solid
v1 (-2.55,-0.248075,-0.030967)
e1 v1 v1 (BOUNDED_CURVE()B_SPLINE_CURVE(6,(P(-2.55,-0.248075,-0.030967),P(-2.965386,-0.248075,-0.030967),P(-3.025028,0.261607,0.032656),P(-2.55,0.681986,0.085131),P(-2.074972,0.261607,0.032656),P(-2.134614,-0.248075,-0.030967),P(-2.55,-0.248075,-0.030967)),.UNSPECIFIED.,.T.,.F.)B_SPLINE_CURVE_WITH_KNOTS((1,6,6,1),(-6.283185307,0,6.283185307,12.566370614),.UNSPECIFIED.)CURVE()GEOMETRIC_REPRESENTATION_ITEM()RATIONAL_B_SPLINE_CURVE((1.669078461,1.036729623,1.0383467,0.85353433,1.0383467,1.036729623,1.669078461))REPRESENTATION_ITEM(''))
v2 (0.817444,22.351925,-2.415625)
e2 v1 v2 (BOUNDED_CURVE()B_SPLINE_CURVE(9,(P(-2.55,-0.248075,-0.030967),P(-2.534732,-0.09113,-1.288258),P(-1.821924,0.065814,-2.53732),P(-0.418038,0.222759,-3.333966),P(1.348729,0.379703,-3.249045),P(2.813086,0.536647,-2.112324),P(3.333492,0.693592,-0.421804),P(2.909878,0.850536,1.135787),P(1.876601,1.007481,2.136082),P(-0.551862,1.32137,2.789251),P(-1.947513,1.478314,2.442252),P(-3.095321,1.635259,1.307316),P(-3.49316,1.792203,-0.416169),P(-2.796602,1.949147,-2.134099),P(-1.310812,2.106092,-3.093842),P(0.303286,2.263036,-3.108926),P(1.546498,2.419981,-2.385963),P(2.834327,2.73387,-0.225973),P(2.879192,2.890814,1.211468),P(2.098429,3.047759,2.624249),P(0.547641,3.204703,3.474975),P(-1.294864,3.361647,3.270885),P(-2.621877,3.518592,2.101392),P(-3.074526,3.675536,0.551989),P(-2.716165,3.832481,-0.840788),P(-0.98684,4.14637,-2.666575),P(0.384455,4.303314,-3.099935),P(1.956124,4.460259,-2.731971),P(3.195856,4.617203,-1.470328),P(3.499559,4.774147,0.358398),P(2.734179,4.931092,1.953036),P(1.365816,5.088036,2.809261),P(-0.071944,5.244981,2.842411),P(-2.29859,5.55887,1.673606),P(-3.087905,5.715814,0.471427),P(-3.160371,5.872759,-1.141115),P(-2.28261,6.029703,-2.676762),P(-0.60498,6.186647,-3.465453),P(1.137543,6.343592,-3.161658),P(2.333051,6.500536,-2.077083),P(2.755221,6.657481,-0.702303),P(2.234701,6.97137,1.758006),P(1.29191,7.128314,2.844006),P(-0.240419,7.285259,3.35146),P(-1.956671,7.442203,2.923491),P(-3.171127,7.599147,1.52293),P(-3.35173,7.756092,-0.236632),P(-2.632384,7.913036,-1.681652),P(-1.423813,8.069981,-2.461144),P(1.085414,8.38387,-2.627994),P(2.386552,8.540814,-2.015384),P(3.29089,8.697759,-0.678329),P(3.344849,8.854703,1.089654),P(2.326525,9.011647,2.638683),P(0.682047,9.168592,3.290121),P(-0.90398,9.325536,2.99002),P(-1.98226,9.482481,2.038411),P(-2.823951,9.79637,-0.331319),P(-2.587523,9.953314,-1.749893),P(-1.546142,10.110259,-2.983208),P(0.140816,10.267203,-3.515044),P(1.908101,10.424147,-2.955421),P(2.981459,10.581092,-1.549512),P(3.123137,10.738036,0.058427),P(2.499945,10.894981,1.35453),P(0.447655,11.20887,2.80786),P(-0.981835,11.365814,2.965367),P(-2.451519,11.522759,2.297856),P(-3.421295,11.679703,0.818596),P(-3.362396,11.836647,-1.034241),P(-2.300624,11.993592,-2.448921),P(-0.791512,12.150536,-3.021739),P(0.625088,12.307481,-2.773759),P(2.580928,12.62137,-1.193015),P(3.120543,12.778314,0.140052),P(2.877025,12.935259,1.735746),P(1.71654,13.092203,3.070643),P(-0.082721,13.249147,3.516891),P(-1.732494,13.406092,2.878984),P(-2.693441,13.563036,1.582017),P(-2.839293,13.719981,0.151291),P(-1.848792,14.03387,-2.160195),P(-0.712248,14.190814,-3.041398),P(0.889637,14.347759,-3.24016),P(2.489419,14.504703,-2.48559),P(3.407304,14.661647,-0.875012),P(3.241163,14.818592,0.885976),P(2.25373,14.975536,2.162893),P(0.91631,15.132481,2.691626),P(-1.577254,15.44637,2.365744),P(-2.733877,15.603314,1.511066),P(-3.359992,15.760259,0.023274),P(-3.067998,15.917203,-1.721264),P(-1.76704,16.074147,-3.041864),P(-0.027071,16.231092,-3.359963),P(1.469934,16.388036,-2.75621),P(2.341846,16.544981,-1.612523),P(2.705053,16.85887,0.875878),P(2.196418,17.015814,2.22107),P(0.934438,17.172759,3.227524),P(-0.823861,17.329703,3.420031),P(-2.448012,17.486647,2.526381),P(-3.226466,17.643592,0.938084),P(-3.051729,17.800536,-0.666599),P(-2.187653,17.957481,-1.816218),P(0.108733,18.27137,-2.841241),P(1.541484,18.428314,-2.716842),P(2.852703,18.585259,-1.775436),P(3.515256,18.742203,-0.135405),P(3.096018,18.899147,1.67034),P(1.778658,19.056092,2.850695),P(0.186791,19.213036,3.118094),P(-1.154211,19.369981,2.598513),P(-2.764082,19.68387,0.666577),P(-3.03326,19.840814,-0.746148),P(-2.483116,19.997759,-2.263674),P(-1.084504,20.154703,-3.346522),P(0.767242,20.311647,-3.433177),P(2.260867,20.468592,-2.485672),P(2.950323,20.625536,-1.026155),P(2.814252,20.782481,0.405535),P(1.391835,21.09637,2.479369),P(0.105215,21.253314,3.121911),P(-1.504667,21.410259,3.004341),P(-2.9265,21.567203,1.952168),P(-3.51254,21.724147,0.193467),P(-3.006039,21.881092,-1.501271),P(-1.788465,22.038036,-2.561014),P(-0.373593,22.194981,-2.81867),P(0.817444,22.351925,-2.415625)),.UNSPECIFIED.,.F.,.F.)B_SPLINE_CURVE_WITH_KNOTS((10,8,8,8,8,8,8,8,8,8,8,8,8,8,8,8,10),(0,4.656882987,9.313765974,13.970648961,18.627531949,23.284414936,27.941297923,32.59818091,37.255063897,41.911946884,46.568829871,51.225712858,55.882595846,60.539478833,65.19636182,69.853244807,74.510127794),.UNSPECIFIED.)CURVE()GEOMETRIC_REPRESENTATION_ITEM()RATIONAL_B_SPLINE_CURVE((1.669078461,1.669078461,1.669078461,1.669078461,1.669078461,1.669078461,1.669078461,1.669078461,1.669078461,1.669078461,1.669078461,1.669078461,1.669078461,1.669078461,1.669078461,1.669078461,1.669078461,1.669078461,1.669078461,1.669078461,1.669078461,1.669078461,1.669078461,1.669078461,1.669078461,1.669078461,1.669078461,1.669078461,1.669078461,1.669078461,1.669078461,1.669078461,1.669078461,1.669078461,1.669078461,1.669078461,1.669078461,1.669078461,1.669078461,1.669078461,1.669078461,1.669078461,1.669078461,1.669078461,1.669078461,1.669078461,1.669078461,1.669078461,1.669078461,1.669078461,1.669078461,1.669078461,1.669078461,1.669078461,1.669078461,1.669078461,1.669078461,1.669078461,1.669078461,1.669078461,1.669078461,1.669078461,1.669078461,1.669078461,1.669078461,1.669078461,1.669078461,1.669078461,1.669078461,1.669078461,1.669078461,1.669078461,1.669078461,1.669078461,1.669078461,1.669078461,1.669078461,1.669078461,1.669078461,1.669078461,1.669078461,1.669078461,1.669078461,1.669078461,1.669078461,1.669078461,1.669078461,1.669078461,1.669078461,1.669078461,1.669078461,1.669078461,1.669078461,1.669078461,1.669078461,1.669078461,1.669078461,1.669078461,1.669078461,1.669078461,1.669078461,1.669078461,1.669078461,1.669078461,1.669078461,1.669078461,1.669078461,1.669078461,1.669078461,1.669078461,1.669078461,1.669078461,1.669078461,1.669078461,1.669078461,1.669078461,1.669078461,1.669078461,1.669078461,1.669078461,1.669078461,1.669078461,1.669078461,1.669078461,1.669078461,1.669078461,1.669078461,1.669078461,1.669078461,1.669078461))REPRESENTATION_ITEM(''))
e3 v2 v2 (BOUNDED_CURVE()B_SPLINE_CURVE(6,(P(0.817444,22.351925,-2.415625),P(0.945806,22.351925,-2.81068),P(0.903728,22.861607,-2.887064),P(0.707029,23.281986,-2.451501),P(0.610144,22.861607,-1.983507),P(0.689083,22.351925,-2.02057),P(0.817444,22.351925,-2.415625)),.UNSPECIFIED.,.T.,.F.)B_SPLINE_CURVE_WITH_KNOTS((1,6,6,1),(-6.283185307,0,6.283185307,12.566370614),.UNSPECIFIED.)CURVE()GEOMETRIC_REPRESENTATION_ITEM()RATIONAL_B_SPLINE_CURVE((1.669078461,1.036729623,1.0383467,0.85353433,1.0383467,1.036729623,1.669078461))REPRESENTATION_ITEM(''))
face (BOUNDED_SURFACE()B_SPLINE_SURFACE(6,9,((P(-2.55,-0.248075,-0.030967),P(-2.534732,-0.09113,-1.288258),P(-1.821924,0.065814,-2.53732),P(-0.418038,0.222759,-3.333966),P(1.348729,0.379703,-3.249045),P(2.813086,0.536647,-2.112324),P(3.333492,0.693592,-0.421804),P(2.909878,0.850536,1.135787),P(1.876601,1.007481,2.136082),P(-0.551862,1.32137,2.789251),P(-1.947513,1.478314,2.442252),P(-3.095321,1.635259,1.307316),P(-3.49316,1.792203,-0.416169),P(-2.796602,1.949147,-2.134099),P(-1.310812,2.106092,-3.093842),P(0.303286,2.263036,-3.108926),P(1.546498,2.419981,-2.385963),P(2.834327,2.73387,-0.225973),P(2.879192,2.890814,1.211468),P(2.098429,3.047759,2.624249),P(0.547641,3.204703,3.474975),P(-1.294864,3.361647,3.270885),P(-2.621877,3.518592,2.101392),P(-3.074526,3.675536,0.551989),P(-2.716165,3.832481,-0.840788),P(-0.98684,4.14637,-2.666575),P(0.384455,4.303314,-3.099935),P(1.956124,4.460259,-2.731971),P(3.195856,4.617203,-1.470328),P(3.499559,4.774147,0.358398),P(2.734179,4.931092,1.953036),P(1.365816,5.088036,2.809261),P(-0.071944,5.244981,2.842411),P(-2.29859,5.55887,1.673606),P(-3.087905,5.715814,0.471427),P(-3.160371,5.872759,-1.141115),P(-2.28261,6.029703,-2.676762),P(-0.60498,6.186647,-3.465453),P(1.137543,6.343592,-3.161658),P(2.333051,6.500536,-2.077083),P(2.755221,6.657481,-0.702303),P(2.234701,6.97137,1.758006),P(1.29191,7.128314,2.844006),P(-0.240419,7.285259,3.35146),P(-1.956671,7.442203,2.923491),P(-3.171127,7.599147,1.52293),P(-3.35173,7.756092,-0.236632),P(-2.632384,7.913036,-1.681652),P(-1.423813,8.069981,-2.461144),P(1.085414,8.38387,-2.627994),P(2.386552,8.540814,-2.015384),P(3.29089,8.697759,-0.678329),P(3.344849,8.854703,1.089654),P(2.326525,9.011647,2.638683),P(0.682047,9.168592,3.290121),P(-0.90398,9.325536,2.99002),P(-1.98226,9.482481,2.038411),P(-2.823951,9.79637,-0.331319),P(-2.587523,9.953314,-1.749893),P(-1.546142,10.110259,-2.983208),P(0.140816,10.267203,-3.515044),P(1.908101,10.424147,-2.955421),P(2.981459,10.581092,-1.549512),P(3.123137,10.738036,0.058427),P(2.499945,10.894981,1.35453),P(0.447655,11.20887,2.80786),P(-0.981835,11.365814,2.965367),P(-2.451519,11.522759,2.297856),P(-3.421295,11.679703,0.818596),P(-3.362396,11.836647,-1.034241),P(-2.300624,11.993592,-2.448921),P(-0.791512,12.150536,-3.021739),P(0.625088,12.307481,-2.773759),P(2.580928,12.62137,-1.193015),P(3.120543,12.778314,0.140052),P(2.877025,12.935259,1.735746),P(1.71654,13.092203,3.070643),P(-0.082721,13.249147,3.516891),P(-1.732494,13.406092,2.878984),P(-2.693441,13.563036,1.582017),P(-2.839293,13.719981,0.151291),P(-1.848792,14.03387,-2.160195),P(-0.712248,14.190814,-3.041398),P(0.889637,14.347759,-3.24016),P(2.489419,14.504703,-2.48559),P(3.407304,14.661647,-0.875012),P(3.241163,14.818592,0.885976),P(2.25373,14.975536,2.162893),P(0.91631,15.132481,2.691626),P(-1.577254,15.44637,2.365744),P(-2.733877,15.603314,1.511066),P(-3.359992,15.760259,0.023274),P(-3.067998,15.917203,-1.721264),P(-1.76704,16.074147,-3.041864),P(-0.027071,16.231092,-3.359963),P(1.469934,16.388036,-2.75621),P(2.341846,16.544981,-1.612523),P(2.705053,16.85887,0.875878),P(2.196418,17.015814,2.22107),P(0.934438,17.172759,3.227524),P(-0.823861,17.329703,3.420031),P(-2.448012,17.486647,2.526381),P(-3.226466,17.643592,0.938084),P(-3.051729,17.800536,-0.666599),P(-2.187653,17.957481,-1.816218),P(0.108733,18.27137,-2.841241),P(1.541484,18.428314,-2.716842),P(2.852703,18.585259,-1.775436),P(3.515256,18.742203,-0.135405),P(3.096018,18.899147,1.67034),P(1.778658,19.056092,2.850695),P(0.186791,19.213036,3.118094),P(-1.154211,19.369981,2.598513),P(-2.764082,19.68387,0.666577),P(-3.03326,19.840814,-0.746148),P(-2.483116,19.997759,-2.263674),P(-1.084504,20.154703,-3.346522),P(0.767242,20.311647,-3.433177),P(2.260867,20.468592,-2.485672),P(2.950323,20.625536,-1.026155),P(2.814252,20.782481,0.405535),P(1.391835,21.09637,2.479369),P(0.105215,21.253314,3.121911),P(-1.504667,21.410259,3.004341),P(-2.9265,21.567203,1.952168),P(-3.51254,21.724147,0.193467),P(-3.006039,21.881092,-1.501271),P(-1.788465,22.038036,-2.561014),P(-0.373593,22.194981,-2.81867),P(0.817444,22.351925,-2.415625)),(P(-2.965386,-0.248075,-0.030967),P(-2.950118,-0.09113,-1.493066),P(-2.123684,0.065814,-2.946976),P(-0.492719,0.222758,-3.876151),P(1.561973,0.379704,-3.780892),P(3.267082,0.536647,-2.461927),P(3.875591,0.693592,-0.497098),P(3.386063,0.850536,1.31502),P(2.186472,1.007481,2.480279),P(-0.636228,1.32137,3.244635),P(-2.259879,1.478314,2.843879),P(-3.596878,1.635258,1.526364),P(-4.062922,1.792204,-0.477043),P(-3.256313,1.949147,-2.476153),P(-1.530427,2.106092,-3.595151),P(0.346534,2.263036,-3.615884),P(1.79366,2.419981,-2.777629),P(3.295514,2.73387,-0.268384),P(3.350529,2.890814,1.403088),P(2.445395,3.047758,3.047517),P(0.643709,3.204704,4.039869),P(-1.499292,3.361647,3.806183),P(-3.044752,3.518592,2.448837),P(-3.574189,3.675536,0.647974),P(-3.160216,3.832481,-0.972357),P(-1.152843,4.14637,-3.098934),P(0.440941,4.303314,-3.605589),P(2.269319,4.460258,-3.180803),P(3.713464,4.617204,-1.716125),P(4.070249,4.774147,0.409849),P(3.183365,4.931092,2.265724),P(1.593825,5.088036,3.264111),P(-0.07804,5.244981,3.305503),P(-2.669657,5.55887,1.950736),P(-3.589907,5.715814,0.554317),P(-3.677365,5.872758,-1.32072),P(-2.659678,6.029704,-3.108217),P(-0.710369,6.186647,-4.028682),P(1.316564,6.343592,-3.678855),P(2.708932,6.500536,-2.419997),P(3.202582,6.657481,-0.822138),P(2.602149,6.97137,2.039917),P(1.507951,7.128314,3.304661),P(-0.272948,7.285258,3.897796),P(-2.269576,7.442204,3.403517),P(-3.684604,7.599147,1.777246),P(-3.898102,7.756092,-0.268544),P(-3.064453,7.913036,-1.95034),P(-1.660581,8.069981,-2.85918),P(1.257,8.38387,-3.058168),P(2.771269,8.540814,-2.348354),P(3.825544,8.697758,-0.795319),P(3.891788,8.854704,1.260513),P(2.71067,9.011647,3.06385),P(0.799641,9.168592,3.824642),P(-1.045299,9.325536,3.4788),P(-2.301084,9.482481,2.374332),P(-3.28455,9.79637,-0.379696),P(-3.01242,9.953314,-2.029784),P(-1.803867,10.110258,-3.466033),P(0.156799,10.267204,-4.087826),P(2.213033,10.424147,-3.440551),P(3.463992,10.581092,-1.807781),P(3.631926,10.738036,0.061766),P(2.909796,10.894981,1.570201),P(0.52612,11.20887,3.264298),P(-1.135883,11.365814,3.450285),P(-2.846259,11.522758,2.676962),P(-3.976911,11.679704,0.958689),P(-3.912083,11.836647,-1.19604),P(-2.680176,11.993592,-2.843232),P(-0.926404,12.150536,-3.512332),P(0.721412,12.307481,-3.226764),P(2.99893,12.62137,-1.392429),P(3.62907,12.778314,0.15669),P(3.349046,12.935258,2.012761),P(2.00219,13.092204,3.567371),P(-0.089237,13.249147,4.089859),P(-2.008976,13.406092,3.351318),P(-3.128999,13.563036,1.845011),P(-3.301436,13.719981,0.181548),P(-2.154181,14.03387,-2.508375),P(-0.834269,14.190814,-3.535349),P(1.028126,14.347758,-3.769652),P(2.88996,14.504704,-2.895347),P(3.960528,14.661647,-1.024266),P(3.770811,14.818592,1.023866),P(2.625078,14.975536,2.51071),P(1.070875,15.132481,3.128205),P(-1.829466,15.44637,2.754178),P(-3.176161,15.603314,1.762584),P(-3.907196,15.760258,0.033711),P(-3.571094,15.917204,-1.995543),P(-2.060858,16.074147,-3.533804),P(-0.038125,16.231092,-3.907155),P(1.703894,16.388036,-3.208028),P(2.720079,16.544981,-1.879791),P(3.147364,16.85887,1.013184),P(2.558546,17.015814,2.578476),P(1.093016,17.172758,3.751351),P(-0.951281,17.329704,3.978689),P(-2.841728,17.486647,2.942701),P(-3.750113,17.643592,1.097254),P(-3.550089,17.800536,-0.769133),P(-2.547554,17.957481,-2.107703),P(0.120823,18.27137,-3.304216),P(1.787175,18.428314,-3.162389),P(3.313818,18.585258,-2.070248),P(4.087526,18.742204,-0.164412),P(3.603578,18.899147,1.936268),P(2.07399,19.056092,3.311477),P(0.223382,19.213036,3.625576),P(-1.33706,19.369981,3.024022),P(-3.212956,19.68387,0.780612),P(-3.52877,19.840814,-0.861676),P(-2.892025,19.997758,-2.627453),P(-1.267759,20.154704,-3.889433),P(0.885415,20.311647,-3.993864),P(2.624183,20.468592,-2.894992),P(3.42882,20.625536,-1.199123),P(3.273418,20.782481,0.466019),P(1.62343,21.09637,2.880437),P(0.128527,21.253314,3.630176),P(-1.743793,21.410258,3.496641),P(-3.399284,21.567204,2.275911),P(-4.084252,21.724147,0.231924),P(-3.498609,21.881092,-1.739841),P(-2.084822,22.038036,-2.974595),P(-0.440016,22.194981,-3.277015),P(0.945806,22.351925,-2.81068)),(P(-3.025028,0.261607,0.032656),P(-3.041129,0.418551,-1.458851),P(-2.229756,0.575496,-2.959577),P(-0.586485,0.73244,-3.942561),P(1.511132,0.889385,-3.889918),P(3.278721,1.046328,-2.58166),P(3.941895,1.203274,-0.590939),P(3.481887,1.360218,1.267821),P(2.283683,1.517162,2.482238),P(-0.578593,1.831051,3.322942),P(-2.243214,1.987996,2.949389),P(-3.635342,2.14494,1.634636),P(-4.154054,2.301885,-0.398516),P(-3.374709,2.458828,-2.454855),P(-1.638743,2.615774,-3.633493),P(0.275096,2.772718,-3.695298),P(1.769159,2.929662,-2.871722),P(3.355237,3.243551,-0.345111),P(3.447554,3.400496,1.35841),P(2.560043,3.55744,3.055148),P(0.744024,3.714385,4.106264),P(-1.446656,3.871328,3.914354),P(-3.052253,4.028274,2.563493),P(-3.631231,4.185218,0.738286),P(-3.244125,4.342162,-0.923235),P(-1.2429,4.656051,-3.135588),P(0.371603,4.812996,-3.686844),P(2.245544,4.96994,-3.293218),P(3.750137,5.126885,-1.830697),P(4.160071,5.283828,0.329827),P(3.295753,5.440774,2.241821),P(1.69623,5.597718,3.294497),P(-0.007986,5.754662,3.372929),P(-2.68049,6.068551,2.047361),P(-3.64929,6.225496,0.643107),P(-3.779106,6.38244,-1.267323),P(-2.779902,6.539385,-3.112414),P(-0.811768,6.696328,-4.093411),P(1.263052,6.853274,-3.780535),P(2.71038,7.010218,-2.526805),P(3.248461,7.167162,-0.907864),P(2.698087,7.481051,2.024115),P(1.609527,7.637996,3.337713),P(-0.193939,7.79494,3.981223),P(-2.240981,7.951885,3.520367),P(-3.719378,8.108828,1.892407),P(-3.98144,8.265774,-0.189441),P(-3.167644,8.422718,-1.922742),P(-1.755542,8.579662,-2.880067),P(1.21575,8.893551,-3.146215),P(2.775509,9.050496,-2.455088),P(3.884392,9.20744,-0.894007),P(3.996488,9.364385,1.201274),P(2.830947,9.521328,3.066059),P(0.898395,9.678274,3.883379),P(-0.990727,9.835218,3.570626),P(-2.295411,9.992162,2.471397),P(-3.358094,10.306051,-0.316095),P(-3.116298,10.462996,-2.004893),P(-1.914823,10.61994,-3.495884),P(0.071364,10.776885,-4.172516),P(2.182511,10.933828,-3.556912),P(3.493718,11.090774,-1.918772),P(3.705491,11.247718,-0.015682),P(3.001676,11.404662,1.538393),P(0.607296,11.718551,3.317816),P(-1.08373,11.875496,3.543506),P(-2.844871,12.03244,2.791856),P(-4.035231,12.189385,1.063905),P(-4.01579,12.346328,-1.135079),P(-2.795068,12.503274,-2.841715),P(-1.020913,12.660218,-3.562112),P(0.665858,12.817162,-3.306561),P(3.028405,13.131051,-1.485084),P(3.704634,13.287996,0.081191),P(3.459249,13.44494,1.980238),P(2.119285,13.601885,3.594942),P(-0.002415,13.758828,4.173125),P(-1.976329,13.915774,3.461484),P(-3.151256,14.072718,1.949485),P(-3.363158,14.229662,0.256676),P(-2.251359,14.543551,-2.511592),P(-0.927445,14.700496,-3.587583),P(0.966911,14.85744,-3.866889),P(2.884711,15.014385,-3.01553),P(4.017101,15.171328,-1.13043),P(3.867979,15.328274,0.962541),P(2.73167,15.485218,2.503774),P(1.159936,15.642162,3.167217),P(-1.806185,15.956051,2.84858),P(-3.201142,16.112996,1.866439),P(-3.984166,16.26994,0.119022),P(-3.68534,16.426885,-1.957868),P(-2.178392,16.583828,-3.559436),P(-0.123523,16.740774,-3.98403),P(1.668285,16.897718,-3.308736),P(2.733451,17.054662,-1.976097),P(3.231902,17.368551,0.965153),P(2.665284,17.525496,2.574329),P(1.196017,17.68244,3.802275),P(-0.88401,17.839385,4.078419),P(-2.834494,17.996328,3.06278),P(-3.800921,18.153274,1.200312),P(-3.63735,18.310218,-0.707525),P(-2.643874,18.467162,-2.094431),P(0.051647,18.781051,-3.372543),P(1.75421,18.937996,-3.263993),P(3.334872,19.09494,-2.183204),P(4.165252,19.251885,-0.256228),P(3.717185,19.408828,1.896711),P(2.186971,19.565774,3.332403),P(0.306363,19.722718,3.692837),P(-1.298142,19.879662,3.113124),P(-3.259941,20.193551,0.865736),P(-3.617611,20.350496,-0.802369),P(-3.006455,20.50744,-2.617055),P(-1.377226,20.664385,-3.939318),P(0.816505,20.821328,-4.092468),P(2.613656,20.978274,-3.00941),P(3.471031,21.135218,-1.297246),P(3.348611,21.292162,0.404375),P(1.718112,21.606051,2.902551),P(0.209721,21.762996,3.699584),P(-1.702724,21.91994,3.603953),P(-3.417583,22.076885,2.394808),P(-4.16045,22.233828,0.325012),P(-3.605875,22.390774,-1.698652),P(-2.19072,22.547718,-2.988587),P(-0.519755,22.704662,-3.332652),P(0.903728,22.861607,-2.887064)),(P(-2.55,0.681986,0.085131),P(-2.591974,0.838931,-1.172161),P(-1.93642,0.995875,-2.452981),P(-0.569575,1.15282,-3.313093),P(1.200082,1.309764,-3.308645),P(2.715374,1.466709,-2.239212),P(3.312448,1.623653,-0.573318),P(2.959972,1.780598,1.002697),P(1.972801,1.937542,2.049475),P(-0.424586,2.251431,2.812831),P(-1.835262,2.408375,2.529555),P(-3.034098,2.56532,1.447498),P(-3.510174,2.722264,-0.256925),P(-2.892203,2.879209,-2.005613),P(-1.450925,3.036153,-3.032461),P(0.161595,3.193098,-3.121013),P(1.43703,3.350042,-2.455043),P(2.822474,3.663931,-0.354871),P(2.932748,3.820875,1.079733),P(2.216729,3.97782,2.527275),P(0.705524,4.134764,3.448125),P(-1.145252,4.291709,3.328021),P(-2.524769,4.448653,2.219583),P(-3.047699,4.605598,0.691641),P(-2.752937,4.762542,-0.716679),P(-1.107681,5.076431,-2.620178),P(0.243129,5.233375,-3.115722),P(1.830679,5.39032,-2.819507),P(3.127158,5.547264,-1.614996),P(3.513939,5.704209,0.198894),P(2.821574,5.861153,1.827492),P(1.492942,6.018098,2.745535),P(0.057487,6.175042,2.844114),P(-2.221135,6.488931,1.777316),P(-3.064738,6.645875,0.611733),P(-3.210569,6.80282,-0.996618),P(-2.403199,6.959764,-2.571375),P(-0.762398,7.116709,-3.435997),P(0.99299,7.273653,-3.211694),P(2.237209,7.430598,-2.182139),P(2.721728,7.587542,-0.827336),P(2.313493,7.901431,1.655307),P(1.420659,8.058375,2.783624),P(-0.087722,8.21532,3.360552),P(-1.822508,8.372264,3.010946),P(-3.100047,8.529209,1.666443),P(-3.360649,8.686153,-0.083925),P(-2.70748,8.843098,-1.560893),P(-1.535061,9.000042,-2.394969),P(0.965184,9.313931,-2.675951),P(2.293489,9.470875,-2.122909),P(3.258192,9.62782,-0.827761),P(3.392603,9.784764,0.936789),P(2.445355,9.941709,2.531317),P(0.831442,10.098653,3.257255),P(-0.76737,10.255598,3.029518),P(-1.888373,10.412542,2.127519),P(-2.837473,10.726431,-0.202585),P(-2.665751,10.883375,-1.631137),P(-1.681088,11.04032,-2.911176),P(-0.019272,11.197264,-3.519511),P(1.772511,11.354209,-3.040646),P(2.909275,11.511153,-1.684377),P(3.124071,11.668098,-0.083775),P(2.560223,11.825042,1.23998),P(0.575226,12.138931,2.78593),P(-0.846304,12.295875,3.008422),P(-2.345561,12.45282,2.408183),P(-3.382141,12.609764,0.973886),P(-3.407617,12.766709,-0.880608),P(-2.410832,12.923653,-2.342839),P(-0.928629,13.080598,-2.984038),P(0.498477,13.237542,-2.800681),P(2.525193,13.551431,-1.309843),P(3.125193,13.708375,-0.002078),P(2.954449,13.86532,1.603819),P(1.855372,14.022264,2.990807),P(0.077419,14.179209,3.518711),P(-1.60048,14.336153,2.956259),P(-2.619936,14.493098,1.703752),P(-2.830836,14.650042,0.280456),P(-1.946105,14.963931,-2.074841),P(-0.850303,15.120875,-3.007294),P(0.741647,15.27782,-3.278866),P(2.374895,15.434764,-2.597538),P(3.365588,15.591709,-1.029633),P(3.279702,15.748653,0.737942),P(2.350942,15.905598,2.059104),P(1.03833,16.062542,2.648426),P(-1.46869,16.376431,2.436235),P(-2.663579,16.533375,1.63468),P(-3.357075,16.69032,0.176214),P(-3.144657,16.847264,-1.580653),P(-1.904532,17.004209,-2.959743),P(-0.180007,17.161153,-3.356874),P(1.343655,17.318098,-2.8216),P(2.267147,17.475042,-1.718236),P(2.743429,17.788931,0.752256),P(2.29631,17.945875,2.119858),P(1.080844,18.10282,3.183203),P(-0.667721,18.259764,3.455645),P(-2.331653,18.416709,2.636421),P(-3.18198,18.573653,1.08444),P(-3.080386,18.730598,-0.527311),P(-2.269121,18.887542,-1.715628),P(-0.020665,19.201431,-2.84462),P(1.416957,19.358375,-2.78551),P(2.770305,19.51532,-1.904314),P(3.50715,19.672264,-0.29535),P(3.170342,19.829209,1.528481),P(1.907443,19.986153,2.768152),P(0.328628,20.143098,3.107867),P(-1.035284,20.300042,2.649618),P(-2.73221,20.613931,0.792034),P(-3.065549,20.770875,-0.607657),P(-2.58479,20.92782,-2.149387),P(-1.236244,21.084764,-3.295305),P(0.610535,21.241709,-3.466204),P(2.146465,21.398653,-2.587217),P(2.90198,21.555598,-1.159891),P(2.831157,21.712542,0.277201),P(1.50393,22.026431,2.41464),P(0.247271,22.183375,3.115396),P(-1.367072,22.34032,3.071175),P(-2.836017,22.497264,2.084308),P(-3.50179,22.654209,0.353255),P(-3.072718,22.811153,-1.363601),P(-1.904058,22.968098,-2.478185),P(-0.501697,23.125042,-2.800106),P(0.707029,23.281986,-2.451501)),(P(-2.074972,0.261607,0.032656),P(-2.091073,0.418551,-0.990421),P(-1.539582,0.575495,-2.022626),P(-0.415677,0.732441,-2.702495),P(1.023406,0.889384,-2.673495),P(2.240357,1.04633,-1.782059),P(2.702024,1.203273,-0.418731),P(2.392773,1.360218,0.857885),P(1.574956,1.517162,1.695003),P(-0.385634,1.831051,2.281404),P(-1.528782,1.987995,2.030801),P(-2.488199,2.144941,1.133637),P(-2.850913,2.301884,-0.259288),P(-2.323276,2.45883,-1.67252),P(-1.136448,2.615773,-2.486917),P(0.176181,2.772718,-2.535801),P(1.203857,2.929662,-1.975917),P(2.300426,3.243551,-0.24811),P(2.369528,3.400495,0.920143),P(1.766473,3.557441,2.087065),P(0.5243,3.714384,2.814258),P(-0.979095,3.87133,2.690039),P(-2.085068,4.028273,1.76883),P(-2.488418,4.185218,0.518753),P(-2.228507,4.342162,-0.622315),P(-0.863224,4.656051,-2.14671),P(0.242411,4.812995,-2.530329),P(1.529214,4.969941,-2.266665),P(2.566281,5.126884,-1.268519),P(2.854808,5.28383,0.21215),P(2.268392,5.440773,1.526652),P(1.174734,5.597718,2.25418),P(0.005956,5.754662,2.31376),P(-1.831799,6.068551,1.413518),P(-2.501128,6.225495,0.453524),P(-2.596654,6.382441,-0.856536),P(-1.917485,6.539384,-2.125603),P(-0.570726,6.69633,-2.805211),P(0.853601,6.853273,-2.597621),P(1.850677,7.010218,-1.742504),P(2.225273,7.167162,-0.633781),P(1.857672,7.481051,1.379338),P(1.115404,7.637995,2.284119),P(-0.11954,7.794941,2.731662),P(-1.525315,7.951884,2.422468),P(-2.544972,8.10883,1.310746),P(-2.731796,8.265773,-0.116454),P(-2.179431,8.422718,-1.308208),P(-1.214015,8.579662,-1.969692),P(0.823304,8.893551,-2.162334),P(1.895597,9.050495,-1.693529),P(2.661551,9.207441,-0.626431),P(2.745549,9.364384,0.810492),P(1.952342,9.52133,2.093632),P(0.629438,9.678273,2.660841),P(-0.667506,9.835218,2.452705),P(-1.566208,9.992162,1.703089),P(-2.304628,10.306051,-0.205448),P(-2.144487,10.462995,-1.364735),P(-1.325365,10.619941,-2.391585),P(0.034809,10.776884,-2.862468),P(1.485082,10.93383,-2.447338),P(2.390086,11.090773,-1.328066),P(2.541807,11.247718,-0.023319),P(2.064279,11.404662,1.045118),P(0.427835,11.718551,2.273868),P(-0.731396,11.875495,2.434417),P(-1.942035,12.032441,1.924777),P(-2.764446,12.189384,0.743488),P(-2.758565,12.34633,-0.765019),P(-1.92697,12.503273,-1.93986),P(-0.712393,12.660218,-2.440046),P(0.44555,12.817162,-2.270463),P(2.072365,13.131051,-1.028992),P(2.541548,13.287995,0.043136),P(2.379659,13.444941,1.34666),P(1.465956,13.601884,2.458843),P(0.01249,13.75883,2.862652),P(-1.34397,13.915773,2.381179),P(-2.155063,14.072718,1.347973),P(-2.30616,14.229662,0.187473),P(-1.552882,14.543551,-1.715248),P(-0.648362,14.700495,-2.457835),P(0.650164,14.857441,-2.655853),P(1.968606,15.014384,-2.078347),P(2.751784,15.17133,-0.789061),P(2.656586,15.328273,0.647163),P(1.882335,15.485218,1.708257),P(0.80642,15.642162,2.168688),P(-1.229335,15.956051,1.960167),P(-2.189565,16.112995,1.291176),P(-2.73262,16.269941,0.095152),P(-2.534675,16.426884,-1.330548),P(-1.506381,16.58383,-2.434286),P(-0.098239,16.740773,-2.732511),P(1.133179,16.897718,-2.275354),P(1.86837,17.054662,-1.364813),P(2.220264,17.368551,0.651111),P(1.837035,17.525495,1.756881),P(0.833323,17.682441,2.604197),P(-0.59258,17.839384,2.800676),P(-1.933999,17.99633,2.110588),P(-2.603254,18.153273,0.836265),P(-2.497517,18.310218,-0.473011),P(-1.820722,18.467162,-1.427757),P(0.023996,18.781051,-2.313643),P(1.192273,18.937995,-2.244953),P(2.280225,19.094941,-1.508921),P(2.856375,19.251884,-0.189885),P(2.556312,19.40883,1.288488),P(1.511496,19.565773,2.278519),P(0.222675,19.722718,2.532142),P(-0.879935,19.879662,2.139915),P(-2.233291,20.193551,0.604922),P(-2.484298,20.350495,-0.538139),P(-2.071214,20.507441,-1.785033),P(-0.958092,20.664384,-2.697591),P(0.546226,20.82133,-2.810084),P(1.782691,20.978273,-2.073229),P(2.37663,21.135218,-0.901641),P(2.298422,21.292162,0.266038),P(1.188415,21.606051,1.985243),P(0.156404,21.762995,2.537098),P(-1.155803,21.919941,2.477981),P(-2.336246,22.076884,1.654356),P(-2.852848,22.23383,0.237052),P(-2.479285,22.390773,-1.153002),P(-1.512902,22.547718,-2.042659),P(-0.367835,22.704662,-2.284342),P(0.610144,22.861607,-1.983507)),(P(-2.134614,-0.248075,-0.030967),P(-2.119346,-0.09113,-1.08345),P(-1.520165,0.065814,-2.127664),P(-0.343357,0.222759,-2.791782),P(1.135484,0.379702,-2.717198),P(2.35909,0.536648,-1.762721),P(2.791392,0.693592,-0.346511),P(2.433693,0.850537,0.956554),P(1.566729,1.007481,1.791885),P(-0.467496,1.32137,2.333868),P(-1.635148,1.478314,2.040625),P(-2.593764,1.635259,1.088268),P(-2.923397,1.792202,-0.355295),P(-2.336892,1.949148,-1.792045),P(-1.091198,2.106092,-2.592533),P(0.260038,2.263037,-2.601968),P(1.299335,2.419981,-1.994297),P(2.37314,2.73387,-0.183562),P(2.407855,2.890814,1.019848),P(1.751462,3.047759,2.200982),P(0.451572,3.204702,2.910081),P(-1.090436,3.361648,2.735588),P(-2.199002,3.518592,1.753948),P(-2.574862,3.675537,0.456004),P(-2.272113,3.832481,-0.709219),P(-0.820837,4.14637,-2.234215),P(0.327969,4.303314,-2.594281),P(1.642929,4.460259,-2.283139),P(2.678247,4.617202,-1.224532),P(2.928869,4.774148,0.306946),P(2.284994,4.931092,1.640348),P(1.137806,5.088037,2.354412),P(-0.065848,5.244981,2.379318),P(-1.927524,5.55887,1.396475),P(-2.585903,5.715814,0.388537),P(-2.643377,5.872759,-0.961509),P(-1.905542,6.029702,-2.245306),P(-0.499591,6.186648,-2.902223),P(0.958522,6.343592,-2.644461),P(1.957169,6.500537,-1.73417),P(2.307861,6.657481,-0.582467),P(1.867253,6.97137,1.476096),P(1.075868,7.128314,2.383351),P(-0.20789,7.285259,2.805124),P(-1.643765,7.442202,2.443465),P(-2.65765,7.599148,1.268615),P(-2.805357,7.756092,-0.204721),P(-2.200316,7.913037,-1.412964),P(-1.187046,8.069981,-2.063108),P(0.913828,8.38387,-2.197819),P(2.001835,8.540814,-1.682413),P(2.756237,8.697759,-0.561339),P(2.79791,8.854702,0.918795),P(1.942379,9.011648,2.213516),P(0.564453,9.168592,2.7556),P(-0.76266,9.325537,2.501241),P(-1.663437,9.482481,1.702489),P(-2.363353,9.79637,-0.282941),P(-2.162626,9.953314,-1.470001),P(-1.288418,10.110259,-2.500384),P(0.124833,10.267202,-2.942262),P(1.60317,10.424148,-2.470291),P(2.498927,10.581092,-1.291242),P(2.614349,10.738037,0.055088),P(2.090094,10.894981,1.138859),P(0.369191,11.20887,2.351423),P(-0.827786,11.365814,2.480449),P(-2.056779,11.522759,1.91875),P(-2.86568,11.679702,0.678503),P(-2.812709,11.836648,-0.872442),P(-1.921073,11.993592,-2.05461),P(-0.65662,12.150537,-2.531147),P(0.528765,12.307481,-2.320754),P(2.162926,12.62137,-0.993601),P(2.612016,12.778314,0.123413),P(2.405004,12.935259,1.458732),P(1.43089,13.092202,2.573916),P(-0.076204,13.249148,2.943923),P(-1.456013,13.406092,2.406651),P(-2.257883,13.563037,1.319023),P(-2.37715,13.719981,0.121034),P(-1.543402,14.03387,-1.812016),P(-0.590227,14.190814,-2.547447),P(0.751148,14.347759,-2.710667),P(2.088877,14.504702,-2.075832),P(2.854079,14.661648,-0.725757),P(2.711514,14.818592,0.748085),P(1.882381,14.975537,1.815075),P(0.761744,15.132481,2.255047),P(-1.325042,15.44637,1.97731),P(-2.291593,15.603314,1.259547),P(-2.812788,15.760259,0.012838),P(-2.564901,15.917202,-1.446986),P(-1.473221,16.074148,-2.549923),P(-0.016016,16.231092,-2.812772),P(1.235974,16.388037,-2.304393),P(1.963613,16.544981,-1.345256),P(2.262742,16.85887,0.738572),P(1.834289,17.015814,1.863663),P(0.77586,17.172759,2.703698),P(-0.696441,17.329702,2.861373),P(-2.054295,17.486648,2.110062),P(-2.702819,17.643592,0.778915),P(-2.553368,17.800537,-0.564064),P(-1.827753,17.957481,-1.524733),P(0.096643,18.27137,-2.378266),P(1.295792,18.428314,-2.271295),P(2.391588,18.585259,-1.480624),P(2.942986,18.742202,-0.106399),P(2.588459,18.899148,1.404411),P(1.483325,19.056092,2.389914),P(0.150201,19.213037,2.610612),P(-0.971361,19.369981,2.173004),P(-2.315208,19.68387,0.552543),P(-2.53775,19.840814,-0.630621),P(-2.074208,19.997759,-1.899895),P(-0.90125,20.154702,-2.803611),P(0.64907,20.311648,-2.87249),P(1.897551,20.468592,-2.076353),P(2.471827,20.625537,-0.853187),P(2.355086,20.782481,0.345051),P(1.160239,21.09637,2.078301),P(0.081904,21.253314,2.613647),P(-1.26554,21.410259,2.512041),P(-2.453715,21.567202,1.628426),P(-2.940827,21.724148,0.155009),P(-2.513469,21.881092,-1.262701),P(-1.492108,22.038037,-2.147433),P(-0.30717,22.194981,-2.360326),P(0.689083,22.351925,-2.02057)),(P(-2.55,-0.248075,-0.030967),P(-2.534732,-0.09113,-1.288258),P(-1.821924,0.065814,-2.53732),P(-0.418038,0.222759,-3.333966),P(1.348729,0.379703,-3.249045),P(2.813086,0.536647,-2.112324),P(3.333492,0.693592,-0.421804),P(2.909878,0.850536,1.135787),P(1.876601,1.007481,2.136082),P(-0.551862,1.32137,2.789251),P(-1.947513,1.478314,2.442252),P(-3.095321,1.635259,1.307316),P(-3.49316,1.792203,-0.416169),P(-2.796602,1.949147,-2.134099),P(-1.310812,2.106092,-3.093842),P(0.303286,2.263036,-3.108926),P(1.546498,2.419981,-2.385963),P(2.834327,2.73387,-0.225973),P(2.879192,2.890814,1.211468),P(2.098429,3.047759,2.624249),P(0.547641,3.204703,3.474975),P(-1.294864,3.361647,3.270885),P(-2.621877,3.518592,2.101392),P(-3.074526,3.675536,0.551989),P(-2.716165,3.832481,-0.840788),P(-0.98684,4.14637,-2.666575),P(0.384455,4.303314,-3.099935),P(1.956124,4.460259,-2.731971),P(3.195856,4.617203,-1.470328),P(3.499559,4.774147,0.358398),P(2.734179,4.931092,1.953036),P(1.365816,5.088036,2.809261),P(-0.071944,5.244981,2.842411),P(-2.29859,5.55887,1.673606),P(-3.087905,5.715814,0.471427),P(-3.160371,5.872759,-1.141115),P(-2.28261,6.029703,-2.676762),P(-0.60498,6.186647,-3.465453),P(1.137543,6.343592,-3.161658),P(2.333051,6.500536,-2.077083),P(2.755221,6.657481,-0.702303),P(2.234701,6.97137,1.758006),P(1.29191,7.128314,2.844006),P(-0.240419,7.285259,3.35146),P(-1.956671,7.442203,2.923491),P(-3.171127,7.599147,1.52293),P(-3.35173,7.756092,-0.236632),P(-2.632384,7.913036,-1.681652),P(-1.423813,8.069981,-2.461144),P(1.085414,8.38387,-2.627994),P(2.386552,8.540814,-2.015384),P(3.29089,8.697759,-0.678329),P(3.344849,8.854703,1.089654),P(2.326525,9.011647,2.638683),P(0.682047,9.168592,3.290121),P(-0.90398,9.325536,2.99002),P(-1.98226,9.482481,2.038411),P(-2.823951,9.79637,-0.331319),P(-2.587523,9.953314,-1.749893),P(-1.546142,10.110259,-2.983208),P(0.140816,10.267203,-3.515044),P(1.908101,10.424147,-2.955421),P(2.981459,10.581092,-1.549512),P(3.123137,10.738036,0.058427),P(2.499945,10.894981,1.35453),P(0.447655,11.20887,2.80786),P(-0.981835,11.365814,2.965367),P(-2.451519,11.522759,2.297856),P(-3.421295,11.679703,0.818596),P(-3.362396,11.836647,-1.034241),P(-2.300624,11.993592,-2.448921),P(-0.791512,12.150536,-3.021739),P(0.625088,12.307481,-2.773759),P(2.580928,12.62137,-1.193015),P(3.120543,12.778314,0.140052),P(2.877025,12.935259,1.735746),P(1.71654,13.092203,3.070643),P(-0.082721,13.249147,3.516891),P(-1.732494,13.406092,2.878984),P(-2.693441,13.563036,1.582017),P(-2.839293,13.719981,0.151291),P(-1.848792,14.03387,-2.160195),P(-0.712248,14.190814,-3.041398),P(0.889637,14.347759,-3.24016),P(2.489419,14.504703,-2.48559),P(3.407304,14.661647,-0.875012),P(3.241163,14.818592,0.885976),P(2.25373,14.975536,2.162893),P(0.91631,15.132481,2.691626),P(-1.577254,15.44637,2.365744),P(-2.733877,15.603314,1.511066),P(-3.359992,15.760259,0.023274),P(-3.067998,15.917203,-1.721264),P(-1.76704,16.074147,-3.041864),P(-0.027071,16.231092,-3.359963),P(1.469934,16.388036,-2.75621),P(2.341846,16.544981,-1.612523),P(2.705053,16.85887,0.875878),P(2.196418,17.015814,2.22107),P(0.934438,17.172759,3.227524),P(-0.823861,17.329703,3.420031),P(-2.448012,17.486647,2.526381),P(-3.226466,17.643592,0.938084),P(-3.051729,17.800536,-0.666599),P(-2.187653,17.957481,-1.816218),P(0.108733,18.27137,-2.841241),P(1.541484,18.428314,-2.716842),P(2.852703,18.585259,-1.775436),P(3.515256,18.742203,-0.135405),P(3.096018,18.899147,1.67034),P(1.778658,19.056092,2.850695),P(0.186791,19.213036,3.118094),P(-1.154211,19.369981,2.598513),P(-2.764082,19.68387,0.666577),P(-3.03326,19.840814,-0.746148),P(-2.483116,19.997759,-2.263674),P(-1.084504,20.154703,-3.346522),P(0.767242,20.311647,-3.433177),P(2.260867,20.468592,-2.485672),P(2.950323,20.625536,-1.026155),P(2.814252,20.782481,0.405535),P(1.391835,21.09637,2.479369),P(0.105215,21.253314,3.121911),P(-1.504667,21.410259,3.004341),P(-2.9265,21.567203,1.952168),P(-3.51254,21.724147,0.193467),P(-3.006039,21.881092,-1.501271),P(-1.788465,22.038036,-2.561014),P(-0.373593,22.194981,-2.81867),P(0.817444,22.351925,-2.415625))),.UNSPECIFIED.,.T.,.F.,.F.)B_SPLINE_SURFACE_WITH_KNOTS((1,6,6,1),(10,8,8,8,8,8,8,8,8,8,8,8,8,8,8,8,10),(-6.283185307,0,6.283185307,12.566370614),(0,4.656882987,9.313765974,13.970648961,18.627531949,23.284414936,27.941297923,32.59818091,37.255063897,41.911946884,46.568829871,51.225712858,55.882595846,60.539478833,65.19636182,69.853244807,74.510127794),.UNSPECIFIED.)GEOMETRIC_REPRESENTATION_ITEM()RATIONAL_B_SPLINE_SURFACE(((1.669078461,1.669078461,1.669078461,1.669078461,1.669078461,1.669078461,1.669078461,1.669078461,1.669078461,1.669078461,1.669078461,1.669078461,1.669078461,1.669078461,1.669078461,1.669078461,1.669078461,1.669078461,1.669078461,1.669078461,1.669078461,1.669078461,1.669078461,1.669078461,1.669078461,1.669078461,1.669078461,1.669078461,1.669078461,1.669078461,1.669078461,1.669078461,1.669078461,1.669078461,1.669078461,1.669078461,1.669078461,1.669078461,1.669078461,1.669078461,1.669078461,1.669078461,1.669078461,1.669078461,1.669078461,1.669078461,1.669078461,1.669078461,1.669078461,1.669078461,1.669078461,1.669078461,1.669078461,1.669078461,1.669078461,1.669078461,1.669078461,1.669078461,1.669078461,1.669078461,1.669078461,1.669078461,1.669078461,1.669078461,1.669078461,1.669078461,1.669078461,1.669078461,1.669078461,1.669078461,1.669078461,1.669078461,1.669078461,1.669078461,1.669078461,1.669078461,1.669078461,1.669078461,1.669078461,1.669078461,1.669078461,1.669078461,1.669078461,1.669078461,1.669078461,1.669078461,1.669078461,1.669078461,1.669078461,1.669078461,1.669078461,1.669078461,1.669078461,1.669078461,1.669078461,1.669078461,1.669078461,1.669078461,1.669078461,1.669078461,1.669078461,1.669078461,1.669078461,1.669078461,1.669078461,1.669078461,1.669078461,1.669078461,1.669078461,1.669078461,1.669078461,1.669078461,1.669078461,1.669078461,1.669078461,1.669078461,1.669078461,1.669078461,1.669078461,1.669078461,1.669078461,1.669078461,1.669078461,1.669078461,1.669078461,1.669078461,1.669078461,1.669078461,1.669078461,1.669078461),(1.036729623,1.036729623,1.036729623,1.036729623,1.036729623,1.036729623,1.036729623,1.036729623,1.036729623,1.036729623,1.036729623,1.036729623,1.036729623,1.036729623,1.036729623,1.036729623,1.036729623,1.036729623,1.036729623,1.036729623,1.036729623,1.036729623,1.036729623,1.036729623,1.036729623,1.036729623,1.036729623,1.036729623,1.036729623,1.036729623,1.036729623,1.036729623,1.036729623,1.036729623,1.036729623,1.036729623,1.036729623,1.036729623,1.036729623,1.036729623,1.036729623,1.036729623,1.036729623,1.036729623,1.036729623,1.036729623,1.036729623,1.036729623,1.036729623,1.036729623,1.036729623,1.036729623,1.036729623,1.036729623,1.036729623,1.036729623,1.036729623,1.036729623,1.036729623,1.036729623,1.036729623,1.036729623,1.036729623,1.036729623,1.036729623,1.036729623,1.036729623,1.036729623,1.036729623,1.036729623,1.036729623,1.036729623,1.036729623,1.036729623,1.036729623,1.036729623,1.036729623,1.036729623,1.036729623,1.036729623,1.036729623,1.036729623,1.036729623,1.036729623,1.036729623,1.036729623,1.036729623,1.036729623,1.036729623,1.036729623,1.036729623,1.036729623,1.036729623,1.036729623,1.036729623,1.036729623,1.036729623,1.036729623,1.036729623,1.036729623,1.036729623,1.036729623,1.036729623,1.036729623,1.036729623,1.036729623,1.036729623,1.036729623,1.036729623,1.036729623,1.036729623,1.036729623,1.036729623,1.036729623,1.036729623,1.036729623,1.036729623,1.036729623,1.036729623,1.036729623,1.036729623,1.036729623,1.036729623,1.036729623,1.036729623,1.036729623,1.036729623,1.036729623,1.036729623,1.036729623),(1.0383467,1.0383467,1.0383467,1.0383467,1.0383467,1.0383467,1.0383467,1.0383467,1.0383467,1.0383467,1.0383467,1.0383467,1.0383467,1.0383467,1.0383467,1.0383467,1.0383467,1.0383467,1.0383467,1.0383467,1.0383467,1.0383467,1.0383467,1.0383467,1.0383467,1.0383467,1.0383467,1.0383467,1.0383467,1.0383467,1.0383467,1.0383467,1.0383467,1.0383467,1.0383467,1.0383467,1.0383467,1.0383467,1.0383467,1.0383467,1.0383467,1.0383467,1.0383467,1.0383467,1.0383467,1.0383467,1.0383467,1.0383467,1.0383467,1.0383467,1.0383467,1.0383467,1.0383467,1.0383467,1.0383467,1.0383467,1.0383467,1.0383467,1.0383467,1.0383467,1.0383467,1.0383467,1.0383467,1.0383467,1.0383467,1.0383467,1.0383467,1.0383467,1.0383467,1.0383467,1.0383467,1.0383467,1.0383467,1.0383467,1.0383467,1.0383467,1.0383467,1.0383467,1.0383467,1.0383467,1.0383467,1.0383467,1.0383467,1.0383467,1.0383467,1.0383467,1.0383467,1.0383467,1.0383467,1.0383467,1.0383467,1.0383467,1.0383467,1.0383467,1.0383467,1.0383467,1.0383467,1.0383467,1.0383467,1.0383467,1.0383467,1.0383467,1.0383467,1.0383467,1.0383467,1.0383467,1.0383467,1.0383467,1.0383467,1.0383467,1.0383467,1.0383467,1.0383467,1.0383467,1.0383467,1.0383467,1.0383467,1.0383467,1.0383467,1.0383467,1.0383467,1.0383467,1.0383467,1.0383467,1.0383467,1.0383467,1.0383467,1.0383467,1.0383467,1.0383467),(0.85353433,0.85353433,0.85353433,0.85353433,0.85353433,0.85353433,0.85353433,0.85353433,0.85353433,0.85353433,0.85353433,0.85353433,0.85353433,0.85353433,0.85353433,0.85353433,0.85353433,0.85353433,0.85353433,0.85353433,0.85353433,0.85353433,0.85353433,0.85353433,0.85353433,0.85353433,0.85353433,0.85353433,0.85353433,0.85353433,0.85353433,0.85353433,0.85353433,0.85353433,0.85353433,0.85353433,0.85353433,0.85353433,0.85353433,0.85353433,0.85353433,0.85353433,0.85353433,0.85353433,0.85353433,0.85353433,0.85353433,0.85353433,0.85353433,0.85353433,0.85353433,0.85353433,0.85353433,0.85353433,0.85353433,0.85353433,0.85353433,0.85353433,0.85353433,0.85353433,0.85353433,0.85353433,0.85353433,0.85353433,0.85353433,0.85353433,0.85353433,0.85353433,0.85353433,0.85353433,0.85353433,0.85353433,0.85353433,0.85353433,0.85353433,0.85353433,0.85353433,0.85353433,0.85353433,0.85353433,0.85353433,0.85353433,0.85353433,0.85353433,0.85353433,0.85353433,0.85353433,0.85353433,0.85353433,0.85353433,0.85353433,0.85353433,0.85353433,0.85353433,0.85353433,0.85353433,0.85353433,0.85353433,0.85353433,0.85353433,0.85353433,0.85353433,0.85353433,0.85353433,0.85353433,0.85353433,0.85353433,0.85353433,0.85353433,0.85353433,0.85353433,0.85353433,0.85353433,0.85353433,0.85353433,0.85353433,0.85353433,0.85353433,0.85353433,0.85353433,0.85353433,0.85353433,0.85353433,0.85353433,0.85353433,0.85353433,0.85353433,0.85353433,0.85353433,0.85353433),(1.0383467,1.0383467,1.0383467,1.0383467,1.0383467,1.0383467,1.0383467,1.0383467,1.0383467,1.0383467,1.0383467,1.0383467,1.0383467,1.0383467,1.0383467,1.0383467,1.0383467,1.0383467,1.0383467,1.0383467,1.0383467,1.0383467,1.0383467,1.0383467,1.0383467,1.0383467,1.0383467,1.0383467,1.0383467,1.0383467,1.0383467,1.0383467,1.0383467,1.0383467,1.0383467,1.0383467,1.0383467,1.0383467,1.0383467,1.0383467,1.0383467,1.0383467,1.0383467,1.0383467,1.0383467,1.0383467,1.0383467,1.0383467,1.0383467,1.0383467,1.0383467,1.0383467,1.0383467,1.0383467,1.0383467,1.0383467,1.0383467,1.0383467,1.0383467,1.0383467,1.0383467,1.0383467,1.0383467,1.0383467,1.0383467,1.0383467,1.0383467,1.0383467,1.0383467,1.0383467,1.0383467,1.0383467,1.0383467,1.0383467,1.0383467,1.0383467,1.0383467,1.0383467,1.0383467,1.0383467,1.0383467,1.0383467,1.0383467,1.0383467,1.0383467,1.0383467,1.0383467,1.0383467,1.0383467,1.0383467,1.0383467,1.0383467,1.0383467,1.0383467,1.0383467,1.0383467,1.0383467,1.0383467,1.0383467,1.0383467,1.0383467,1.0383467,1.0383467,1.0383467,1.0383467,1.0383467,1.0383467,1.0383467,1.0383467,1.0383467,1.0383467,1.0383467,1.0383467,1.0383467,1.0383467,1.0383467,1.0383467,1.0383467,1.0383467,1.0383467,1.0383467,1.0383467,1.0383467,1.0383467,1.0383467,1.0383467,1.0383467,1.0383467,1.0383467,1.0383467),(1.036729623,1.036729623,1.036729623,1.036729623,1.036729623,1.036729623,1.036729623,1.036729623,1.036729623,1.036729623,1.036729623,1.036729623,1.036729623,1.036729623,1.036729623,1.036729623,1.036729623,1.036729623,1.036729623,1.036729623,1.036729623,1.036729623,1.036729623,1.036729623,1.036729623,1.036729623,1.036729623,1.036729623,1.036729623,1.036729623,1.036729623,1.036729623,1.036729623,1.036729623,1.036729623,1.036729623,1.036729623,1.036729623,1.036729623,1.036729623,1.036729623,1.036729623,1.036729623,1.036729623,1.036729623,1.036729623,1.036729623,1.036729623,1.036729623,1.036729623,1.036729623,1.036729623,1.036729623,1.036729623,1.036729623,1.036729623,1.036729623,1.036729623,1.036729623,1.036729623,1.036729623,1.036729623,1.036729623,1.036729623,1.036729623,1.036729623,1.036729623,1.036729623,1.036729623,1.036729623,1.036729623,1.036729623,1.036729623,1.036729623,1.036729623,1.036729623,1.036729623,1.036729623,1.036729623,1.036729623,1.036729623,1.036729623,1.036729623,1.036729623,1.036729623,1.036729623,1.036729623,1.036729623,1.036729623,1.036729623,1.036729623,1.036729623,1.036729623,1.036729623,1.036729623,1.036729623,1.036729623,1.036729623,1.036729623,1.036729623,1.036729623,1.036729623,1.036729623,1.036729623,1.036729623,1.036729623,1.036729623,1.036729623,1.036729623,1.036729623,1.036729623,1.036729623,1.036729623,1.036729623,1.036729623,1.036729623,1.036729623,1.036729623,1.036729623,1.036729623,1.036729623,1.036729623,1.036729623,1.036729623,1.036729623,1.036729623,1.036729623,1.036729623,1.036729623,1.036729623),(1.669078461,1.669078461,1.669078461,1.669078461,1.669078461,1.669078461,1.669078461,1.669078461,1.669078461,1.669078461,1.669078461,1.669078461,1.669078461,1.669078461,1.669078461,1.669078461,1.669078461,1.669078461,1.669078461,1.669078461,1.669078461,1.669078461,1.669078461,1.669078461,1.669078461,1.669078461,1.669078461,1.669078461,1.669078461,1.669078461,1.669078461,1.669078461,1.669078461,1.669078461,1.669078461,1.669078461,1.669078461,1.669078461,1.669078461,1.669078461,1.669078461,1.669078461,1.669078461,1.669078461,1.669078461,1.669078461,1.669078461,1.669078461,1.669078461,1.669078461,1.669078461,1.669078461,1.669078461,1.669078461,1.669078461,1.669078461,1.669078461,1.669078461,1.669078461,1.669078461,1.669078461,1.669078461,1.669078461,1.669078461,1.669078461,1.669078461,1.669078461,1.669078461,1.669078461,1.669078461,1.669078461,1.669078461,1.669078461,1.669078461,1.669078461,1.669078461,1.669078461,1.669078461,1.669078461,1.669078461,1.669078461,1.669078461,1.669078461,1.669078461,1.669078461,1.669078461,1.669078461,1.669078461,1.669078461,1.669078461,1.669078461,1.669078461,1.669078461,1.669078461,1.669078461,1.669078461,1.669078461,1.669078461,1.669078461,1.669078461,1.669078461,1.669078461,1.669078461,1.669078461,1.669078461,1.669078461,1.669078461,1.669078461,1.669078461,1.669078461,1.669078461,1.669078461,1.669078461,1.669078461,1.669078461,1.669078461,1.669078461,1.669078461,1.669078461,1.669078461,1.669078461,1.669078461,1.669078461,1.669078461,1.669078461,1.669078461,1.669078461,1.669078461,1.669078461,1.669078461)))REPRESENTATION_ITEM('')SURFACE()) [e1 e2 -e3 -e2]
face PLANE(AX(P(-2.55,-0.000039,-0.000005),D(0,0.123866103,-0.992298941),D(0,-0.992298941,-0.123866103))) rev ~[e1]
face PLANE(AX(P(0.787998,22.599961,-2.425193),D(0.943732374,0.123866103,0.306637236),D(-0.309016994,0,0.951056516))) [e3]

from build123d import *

# Parameters (mm, degrees)
SWEEP1_PITCH       = 2
SWEEP1_HEIGHT      = 22.6
SWEEP1_RADIUS      = 2.55
SWEEP1_START_ANGLE = -90
SWEEP1_PROFILE_R   = 0.25


with BuildPart() as part:
    # Sweep1: sweep along a helix
    with BuildLine() as sweep1_path:
        add(Helix(SWEEP1_PITCH, SWEEP1_HEIGHT, SWEEP1_RADIUS, center=(0, 0, 0), direction=(0, 1, 0), lefthand=True, mode=Mode.PRIVATE).rotate(Axis((0, 0, 0), (0, 1, 0)), SWEEP1_START_ANGLE))
    # Sweep1 profile (on start of the path) → Sweep1 (sweep)
    with BuildSketch(Plane(origin=(-2.55, 0, 0), x_dir=(0, -0.992298941, -0.123866103), z_dir=(0, 0.123866103, -0.992298941))):
        Circle(SWEEP1_PROFILE_R)
    sweep(path=sweep1_path.line, is_frenet=True)


solid = part.part
